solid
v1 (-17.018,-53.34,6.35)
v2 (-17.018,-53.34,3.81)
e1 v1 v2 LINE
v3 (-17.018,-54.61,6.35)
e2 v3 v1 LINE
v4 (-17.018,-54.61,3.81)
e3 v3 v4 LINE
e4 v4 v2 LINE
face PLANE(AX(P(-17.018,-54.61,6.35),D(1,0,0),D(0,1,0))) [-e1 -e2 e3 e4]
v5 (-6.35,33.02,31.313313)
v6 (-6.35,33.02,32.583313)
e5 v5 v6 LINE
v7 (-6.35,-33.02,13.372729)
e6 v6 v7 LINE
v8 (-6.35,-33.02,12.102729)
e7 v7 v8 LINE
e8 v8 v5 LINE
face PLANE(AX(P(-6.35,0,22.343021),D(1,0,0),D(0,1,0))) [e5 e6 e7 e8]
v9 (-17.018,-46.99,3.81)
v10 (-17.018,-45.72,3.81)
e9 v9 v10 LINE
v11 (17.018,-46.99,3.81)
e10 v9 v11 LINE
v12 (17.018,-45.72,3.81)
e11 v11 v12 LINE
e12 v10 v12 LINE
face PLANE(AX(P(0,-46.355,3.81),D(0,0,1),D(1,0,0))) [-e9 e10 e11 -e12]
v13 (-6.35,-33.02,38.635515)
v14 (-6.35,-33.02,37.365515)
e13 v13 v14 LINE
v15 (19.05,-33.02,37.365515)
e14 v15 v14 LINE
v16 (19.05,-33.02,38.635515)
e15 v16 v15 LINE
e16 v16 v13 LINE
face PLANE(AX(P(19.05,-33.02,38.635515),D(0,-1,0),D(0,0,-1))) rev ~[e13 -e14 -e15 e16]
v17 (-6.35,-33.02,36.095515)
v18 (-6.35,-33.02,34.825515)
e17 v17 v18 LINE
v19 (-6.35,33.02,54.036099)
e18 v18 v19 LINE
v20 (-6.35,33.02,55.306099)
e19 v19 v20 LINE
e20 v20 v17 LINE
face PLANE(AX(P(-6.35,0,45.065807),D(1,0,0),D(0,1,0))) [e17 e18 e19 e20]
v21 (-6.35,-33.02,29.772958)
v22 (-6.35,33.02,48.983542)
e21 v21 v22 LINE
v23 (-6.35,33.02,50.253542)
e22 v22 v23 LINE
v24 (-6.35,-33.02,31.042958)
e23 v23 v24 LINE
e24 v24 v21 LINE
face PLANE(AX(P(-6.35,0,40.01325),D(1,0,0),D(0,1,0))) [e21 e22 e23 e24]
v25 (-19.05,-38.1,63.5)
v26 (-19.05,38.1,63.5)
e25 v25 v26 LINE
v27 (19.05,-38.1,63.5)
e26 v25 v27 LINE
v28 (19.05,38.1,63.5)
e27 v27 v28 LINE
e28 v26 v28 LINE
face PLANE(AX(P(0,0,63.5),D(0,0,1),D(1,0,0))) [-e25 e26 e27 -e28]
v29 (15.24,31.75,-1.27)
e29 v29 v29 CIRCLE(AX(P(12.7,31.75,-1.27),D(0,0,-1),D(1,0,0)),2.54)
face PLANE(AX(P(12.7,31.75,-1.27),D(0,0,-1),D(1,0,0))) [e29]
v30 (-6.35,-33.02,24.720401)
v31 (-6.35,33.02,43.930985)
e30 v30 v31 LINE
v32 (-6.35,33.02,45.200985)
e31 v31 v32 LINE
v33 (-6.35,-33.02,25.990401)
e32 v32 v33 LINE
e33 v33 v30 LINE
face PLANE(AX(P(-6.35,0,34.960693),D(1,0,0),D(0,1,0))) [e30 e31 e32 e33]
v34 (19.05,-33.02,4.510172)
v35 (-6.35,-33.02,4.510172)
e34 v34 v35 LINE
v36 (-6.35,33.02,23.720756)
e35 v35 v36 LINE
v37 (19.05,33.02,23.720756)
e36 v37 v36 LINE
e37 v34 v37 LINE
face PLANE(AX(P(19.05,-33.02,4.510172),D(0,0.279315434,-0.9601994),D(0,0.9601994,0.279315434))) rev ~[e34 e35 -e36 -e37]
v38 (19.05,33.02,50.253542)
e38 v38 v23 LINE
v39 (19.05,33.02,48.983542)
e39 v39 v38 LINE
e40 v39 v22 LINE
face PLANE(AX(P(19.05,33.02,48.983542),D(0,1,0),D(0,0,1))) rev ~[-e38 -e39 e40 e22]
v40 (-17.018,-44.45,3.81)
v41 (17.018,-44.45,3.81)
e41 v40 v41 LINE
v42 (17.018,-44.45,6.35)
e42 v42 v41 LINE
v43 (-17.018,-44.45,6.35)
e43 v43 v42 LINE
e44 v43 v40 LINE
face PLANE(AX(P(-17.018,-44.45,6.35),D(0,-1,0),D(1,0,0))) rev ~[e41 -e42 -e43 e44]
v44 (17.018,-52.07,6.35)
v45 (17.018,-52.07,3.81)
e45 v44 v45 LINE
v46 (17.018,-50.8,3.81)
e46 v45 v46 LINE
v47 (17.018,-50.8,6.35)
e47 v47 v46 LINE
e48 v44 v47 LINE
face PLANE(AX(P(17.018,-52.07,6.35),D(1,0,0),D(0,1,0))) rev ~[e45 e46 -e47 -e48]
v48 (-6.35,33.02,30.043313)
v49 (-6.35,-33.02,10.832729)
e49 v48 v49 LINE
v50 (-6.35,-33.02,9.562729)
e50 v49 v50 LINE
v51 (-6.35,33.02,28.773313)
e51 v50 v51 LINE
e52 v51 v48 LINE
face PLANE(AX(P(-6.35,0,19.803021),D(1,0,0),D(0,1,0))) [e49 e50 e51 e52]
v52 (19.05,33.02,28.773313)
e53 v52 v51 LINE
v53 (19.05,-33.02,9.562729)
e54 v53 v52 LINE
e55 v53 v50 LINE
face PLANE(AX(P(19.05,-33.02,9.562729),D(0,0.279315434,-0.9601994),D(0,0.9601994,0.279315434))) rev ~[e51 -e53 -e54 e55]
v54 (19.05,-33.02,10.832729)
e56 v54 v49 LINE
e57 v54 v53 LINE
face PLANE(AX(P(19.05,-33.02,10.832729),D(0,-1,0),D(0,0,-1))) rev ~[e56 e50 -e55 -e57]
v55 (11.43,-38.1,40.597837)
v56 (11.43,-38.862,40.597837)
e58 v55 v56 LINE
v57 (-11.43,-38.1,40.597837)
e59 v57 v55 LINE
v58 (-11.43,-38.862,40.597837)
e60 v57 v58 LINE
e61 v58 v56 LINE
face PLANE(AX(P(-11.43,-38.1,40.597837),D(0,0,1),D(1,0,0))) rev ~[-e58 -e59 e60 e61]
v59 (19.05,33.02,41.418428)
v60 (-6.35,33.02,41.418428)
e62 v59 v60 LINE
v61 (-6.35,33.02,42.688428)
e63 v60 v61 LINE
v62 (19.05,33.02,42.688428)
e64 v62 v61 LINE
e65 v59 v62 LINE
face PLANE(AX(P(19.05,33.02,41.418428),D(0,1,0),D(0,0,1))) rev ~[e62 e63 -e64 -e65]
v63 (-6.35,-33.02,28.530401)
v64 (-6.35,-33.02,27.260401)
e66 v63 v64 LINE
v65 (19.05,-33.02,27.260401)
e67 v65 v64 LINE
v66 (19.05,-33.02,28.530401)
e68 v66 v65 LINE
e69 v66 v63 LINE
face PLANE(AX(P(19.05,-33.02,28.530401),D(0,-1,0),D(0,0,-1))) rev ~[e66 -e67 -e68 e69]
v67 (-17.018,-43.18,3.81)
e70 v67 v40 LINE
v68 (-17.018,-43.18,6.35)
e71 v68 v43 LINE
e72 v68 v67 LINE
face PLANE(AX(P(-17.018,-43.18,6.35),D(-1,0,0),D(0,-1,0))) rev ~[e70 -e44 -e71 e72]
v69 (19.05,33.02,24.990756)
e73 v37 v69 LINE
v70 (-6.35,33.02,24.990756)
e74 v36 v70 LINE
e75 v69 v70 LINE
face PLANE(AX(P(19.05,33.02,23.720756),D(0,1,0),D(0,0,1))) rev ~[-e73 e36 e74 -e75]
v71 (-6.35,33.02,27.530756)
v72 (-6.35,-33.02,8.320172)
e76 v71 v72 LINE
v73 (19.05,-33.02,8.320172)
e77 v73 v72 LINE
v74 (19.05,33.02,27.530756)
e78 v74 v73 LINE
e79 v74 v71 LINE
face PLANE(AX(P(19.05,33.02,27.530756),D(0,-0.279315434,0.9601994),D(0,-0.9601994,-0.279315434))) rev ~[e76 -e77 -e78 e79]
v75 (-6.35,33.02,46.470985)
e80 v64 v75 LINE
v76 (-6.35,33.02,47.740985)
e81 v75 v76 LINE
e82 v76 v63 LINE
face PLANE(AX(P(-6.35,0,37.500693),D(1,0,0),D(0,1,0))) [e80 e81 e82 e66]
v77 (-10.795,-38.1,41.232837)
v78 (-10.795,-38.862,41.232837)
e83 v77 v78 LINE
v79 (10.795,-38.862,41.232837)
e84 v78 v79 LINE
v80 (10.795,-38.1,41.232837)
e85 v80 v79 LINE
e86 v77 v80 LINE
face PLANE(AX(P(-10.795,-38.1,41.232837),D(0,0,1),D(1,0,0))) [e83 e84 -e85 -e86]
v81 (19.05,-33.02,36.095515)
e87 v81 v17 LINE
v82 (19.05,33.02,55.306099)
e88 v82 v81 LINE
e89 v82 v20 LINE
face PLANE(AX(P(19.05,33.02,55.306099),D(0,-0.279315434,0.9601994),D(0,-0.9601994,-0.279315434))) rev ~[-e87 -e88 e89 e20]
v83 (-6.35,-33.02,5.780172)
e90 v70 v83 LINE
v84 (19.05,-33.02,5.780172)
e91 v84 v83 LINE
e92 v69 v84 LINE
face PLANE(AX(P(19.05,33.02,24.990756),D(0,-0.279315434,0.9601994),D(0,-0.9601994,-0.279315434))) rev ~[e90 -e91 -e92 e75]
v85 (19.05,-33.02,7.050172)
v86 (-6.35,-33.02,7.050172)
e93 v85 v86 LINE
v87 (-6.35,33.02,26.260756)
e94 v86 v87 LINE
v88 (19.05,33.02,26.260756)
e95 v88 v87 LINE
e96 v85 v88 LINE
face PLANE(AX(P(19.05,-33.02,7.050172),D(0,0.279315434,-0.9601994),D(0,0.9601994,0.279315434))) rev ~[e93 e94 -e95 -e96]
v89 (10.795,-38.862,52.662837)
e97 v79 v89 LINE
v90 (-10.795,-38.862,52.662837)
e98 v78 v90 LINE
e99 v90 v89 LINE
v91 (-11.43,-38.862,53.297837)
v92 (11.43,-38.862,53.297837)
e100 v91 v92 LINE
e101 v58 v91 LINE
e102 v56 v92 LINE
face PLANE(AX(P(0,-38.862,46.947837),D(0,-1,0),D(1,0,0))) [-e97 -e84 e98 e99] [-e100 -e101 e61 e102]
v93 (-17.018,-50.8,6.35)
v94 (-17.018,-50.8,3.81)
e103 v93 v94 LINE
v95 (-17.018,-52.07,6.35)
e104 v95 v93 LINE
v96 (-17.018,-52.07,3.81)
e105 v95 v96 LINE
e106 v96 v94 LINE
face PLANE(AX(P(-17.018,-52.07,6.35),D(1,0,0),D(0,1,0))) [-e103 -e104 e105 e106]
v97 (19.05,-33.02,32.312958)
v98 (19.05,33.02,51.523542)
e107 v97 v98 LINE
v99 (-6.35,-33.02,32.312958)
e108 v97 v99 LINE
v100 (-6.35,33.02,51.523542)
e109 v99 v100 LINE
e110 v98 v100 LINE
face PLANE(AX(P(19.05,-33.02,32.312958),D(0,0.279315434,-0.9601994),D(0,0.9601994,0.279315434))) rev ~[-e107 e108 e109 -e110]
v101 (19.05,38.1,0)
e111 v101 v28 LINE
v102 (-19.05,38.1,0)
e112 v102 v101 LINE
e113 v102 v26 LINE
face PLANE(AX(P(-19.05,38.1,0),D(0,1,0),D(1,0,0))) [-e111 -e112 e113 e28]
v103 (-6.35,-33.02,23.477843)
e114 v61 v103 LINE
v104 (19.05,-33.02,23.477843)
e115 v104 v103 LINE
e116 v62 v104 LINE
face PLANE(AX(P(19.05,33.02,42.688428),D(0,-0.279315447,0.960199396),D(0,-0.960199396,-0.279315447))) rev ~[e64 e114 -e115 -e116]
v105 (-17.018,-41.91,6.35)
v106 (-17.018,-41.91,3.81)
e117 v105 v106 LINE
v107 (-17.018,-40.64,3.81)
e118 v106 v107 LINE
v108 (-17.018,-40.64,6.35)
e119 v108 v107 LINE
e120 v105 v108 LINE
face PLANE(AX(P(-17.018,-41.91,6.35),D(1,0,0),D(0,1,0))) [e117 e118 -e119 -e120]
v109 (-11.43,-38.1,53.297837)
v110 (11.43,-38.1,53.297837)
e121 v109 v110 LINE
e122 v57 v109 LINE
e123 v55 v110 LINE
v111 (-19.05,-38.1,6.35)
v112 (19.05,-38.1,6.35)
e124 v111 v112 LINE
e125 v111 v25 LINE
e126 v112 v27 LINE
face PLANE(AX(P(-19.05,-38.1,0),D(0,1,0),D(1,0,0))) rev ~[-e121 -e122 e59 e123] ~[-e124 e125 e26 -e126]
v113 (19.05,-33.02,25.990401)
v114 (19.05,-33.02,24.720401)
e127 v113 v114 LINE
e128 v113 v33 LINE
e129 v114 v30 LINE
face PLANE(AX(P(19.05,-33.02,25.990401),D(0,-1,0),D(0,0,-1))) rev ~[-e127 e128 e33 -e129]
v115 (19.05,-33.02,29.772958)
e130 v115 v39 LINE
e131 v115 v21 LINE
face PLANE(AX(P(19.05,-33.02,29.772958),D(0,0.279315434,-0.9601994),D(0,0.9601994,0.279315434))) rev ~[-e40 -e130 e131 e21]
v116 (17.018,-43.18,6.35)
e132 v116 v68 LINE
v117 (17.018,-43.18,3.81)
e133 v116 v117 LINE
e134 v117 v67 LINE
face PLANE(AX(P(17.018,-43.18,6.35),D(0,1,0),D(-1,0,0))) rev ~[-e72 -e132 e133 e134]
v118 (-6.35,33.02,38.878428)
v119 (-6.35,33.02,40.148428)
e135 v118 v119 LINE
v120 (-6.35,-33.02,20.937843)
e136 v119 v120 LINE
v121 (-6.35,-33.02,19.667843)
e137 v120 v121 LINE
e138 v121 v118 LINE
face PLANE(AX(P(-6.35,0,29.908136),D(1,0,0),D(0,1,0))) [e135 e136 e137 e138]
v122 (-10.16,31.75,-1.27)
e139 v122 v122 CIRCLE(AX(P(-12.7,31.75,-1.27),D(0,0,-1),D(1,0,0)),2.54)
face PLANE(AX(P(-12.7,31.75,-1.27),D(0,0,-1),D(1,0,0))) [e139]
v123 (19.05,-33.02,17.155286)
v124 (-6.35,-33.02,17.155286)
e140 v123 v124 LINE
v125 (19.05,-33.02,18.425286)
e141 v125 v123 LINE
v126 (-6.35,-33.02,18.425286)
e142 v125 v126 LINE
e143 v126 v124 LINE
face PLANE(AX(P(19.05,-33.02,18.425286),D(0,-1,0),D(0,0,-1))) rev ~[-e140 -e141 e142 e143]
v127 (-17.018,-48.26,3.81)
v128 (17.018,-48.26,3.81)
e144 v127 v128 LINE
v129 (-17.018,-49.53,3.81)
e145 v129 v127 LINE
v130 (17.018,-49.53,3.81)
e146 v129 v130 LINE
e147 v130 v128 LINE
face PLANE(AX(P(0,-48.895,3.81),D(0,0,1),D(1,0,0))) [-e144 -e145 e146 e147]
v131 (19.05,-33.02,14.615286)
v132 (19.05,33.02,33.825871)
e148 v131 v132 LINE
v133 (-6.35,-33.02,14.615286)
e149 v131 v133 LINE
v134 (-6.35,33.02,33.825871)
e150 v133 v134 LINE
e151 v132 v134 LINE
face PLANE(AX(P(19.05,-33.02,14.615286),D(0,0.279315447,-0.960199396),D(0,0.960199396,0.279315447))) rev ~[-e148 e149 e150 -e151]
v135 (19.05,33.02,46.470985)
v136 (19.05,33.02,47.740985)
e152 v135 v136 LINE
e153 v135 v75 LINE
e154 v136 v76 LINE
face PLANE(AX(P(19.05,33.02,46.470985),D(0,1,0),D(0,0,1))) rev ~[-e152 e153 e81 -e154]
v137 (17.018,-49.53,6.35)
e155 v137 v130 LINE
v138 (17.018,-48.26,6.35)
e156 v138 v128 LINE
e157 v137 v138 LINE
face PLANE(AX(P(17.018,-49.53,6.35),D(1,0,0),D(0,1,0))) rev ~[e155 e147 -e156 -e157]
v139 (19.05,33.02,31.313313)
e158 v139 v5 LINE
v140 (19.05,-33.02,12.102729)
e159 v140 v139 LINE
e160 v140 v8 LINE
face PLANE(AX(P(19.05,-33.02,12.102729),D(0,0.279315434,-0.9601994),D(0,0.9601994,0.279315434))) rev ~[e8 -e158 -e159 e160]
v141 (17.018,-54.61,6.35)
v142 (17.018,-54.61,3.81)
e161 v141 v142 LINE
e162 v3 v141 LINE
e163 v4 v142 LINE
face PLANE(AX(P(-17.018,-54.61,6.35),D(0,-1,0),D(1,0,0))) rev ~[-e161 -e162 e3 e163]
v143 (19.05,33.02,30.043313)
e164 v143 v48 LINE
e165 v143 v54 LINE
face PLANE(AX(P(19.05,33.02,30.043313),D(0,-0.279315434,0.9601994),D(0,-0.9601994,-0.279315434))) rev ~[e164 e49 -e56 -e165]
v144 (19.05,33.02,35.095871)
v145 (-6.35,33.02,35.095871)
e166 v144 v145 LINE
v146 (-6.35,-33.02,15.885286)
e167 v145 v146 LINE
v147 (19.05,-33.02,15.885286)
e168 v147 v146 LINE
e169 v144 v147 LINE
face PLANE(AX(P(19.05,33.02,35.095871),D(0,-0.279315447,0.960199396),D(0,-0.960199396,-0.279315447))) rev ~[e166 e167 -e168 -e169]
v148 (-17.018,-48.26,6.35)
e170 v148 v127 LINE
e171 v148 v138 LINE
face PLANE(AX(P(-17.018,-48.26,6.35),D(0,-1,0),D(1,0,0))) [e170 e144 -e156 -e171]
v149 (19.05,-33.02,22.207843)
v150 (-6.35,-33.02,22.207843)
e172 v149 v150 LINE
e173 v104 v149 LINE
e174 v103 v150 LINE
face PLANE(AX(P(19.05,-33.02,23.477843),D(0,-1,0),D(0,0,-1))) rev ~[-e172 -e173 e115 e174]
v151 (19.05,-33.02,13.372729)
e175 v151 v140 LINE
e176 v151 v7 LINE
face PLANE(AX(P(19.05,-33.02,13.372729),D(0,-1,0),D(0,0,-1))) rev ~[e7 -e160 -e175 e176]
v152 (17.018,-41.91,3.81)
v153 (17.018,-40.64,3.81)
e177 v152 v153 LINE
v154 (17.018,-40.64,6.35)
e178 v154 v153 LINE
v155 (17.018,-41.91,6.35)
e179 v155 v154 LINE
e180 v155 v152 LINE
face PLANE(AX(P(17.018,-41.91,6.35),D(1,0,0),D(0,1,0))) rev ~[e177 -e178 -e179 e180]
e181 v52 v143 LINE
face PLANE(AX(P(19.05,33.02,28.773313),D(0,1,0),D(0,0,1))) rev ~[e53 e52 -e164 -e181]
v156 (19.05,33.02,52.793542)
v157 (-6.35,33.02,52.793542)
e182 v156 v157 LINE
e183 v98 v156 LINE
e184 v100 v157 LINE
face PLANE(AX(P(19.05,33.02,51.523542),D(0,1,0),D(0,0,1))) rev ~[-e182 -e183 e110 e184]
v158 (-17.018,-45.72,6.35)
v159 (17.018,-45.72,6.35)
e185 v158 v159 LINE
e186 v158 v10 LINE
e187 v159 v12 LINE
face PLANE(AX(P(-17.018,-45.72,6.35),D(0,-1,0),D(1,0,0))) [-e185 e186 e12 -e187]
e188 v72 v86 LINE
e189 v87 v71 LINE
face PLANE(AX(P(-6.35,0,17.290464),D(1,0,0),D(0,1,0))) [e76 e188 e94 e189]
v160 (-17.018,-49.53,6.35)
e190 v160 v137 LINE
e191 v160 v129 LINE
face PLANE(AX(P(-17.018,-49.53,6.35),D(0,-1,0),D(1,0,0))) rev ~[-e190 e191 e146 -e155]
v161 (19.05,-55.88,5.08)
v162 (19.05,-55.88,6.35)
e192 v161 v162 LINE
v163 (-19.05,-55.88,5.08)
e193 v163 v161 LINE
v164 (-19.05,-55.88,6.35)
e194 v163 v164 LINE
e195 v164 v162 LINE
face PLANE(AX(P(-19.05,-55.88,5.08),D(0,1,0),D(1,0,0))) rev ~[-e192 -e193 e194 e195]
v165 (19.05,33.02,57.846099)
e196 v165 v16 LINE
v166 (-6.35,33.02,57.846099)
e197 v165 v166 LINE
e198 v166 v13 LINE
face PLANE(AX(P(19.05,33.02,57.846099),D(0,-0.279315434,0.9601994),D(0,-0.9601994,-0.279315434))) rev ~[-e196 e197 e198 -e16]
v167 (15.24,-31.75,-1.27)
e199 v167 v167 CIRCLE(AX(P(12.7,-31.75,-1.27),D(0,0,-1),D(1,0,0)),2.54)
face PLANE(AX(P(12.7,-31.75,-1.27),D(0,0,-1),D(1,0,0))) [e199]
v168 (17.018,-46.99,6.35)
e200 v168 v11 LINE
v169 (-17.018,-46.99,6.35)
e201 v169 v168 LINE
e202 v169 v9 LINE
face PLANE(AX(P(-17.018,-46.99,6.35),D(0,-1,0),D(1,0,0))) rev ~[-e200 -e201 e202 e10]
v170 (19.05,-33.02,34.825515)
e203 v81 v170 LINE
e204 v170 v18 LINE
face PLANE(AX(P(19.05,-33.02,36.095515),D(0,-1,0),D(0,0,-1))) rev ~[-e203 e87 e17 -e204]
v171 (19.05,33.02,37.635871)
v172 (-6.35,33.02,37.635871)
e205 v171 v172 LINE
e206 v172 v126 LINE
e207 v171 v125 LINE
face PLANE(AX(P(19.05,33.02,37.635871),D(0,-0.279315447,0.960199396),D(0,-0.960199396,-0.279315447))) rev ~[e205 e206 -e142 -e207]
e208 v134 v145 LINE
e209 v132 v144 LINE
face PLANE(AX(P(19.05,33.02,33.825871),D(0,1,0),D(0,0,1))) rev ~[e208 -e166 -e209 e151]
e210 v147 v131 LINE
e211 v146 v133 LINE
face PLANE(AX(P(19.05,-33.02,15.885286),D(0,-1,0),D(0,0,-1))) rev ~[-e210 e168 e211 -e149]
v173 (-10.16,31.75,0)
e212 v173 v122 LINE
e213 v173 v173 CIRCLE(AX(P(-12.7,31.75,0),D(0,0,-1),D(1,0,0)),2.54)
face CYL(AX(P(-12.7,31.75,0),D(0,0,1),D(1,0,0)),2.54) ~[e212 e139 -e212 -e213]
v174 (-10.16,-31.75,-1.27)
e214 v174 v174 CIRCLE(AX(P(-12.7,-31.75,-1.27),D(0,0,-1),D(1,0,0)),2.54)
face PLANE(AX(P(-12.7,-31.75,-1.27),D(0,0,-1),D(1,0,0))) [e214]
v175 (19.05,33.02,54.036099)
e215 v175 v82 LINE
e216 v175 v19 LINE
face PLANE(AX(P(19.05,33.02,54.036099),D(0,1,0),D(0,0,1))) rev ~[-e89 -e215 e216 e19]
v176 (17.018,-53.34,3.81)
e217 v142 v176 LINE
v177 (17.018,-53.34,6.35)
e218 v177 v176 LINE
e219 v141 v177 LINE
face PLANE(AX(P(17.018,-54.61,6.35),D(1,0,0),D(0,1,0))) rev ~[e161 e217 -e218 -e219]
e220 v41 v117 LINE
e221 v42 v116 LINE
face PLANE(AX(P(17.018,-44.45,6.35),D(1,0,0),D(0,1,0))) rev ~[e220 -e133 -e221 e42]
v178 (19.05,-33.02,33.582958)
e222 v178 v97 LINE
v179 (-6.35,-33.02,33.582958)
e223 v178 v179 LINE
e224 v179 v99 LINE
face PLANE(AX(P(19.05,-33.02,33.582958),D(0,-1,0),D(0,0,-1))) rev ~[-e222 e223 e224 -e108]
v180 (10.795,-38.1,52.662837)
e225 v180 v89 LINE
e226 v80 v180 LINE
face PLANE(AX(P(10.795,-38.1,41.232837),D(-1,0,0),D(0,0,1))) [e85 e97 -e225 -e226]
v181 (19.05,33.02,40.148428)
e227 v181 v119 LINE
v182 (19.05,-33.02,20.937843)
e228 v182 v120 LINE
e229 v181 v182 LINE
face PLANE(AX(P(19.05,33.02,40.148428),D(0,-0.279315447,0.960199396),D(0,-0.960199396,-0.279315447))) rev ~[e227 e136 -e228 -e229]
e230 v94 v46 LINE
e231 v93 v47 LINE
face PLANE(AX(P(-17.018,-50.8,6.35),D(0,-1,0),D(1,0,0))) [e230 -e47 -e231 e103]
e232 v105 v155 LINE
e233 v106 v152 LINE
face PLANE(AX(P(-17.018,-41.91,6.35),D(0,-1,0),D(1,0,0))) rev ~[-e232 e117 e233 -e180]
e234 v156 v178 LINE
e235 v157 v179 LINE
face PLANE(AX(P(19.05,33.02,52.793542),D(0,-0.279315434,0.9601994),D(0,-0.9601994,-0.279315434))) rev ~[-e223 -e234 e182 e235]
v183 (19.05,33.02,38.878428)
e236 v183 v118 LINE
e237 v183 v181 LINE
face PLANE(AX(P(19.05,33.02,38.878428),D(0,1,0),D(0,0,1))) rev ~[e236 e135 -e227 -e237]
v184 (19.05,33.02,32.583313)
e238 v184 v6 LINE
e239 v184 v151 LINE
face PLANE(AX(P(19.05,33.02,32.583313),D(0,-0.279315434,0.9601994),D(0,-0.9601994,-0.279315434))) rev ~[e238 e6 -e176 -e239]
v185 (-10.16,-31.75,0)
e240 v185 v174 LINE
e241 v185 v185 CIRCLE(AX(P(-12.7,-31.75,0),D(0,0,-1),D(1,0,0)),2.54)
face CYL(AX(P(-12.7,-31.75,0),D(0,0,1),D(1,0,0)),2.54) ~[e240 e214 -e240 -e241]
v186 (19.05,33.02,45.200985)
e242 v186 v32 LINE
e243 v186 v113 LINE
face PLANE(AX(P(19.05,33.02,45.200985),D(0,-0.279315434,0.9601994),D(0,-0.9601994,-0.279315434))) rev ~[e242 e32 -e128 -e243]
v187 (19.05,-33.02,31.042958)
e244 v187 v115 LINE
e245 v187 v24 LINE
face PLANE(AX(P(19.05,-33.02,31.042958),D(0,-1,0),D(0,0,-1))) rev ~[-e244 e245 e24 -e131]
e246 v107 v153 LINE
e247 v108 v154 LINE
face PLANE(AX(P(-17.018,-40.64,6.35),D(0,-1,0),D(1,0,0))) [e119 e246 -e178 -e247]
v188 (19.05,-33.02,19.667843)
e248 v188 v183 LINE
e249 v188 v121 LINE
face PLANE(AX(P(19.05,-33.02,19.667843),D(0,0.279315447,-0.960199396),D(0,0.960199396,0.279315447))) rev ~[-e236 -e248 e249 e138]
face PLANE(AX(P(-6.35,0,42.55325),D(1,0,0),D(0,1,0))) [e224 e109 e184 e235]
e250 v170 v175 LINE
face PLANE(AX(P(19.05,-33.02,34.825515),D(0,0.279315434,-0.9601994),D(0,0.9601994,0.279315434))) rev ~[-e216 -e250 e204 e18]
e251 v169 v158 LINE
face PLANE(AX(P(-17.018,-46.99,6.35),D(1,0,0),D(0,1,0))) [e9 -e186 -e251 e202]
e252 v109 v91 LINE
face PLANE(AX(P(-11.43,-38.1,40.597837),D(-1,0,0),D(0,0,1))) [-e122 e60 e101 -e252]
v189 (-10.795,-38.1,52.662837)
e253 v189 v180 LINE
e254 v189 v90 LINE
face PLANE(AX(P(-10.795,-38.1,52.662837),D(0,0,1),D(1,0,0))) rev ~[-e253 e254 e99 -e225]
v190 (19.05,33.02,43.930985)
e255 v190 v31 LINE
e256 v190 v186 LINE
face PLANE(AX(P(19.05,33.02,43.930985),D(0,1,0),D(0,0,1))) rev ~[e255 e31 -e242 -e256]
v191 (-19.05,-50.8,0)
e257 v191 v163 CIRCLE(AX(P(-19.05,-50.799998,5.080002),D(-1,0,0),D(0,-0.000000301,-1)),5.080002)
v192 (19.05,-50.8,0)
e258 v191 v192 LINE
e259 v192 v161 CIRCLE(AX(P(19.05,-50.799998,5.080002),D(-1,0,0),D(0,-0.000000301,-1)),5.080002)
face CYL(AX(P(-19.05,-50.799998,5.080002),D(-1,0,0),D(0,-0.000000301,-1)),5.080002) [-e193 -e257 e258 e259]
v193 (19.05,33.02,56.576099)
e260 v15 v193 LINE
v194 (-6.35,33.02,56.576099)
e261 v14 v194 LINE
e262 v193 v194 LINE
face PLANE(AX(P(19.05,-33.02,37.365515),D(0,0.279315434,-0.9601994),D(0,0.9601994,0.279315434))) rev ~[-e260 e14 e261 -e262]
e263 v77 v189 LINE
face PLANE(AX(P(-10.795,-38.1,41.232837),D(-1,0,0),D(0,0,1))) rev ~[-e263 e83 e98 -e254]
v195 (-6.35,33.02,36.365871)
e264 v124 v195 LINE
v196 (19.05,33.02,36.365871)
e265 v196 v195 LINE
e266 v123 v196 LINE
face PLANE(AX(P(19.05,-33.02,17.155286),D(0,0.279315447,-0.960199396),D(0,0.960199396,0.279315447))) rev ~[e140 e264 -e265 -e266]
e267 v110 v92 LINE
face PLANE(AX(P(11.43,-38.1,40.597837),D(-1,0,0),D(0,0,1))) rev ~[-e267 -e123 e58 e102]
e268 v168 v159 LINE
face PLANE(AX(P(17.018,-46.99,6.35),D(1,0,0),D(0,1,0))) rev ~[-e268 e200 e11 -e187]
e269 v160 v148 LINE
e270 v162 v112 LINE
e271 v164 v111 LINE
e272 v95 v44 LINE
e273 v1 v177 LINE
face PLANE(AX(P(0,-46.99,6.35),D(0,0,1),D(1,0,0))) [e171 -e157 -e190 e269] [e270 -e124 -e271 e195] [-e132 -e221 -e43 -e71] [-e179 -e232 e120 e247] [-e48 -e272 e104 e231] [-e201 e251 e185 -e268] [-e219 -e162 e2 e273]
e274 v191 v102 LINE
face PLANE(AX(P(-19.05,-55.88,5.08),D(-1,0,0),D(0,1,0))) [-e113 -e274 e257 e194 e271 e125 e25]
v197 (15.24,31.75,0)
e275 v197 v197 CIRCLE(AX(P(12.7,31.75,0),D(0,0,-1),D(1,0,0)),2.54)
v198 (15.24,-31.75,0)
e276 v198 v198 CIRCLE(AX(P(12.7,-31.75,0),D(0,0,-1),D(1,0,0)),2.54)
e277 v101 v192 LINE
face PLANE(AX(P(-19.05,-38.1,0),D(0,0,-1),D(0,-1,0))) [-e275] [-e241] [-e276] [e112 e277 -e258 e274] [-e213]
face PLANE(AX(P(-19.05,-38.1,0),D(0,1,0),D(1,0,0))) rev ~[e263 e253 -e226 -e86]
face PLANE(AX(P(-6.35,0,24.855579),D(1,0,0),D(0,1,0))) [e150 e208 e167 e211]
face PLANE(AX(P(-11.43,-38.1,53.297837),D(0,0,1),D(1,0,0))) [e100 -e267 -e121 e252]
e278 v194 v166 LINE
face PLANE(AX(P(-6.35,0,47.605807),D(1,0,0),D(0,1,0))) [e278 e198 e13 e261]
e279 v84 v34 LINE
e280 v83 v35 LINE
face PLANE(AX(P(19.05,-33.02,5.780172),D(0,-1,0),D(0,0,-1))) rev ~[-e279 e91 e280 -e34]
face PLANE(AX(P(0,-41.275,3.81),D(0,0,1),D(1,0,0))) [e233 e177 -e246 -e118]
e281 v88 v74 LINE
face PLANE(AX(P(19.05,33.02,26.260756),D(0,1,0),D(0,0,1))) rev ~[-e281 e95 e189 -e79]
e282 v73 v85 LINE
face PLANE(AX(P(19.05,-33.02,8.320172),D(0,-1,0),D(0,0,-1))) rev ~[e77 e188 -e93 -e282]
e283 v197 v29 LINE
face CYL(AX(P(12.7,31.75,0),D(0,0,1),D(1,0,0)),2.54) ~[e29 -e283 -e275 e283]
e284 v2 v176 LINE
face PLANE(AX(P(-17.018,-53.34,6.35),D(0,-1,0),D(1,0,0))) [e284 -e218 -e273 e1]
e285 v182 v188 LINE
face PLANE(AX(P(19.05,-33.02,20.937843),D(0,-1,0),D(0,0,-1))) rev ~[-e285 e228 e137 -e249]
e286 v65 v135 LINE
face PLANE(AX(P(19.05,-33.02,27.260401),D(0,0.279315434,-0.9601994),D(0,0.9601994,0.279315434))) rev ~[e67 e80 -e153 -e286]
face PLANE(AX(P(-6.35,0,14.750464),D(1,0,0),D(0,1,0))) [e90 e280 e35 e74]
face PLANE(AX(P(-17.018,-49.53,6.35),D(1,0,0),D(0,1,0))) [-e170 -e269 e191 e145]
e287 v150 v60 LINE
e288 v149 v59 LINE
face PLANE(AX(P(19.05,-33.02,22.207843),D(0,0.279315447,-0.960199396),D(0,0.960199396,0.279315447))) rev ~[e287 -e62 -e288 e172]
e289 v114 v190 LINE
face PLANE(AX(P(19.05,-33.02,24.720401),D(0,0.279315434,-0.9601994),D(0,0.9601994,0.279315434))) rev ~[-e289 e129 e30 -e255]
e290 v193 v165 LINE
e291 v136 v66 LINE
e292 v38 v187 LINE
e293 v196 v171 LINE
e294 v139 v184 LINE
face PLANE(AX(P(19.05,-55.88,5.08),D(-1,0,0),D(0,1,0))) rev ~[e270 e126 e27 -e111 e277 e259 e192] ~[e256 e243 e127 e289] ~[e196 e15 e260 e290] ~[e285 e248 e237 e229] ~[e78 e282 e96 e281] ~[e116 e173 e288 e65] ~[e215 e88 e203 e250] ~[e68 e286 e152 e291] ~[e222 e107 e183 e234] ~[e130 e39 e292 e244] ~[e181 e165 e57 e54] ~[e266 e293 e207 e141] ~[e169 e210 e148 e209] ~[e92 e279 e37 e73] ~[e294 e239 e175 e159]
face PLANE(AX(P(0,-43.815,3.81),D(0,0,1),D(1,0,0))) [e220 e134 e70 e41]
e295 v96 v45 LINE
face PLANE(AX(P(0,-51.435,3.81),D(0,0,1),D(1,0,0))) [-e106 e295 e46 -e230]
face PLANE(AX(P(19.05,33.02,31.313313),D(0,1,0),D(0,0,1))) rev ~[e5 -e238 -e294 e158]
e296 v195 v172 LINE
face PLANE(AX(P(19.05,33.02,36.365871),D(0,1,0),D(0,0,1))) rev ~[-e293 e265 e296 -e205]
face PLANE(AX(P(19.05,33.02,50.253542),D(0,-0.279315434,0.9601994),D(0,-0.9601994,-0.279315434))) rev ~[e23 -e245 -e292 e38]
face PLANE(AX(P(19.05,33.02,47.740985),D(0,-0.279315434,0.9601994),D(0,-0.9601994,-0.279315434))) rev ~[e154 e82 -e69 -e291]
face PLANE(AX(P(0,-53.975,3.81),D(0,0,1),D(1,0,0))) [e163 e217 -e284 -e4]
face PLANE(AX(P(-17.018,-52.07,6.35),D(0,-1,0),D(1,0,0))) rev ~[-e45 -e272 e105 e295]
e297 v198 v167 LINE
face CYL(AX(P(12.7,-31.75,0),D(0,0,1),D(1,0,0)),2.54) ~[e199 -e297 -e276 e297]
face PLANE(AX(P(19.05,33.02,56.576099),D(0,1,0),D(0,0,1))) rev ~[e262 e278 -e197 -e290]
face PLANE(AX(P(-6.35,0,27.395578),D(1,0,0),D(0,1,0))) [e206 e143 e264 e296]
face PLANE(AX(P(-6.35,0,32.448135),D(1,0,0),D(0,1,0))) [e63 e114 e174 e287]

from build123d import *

# Parameters (mm, degrees)
F0_W      = 38.1
F0_H      = 76.2
F1_DEPTH  = 63.5
F3_R      = 2.54
F4_DEPTH  = 1.27
F6_DEPTH  = 25.4
F8_DEPTH  = 38.1
F9_W      = 38.1
F9_H      = 17.78
F10_DEPTH = 1.27
F11_W     = 34.036
F11_H     = 1.27
F12_DEPTH = 2.54
F2_W      = 22.86
F2_H      = 12.7
F2_W_2    = 21.59
F2_H_2    = 11.43
F13_DEPTH = 0.762


with BuildPart() as f1:
    # F0 (on Top) → F1 (new body)
    with BuildSketch(Plane.XY):
        Rectangle(F0_W, F0_H)
    extrude(amount=F1_DEPTH)

    # F3 (on face) → F4 (join)
    with BuildSketch(Plane(origin=(0, 0, 0), x_dir=(1, 0, 0), z_dir=(0, 0, -1))):
        with Locations((-12.7, 31.75)):
            Circle(F3_R)
        with Locations((12.7, 31.75)):
            Circle(F3_R)
        with Locations((-12.7, -31.75)):
            Circle(F3_R)
        with Locations((12.7, -31.75)):
            Circle(F3_R)
    extrude(amount=F4_DEPTH)

    # F5 (on face) → F6 (cut)
    with BuildSketch(Plane.YZ.offset(19.05)):
        Polygon((33.02, 57.846099), (-33.02, 38.635515), (-33.02, 37.365515), (33.02, 56.576099), align=None)
        Polygon((-33.02, 25.990401), (-33.02, 24.720401), (33.02, 43.930985), (33.02, 45.200985), align=None)
        Polygon((-33.02, 28.530401), (-33.02, 27.260401), (33.02, 46.470985), (33.02, 47.740985), align=None)
        Polygon((-33.02, 31.042958), (-33.02, 29.772958), (33.02, 48.983542), (33.02, 50.253542), align=None)
        Polygon((-33.02, 33.582958), (-33.02, 32.312958), (33.02, 51.523542), (33.02, 52.793542), align=None)
        Polygon((-33.02, 36.095515), (-33.02, 34.825515), (33.02, 54.036099), (33.02, 55.306099), align=None)
        Polygon((33.02, 42.688428), (-33.02, 23.477843), (-33.02, 22.207843), (33.02, 41.418428), align=None)
        Polygon((-33.02, 20.937843), (-33.02, 19.667843), (33.02, 38.878428), (33.02, 40.148428), align=None)
        Polygon((-33.02, 15.885286), (-33.02, 14.615286), (33.02, 33.825871), (33.02, 35.095871), align=None)
        Polygon((-33.02, 18.425286), (-33.02, 17.155286), (33.02, 36.365871), (33.02, 37.635871), align=None)
        Polygon((-33.02, 10.832729), (-33.02, 9.562729), (33.02, 28.773313), (33.02, 30.043313), align=None)
        Polygon((-33.02, 13.372729), (-33.02, 12.102729), (33.02, 31.313313), (33.02, 32.583313), align=None)
        Polygon((-33.02, 5.780172), (-33.02, 4.510172), (33.02, 23.720756), (33.02, 24.990756), align=None)
        Polygon((-33.02, 8.320172), (-33.02, 7.050172), (33.02, 26.260756), (33.02, 27.530756), align=None)
    extrude(amount=-F6_DEPTH, mode=Mode.SUBTRACT)

    # F7 (on face) → F8 (join)
    with BuildSketch(Plane(origin=(-19.05, 0, 0), x_dir=(0, -1, 0), z_dir=(-1, 0, 0))):
        with BuildLine():
            Line((38.1, 5.08), (38.1, 0))
            Line((38.1, 0), (50.8, 0))
            ThreePointArc((50.8, 0), (54.392102, 1.487898), (55.88, 5.08))
            Line((55.88, 5.08), (50.8, 5.08))
            Line((50.8, 5.08), (38.1, 5.08))
        make_face()
    extrude(amount=-F8_DEPTH)

    # F9 (on face) → F10 (join)
    with BuildSketch(Plane.XY.offset(5.08)):
        with Locations((0, -46.99)):
            Rectangle(F9_W, F9_H)
    extrude(amount=F10_DEPTH)

    # F11 (on face) → F12 (cut)
    with BuildSketch(Plane.XY.offset(6.35)):
        with Locations((0, -41.275)):
            Rectangle(F11_W, F11_H)
        Polygon((17.018, -43.269459), (17.018, -43.18), (-17.018, -43.18), (-17.018, -44.45), (17.018, -44.45), align=None)
        with Locations((0, -46.355)):
            Rectangle(F11_W, F11_H)
        with Locations((0, -48.895)):
            Rectangle(F11_W, F11_H)
        with Locations((0, -51.435)):
            Rectangle(F11_W, F11_H)
        with Locations((0, -53.975)):
            Rectangle(F11_W, F11_H)
    extrude(amount=-F12_DEPTH, mode=Mode.SUBTRACT)

    # F2 (on face) → F13 (join)
    with BuildSketch(Plane.XZ.offset(38.1)):
        with Locations((0, 46.947837)):
            Rectangle(F2_W, F2_H)
        with Locations((0, 46.947837)):
            Rectangle(F2_W_2, F2_H_2, mode=Mode.SUBTRACT)
    extrude(amount=F13_DEPTH)


solid = f1.part
